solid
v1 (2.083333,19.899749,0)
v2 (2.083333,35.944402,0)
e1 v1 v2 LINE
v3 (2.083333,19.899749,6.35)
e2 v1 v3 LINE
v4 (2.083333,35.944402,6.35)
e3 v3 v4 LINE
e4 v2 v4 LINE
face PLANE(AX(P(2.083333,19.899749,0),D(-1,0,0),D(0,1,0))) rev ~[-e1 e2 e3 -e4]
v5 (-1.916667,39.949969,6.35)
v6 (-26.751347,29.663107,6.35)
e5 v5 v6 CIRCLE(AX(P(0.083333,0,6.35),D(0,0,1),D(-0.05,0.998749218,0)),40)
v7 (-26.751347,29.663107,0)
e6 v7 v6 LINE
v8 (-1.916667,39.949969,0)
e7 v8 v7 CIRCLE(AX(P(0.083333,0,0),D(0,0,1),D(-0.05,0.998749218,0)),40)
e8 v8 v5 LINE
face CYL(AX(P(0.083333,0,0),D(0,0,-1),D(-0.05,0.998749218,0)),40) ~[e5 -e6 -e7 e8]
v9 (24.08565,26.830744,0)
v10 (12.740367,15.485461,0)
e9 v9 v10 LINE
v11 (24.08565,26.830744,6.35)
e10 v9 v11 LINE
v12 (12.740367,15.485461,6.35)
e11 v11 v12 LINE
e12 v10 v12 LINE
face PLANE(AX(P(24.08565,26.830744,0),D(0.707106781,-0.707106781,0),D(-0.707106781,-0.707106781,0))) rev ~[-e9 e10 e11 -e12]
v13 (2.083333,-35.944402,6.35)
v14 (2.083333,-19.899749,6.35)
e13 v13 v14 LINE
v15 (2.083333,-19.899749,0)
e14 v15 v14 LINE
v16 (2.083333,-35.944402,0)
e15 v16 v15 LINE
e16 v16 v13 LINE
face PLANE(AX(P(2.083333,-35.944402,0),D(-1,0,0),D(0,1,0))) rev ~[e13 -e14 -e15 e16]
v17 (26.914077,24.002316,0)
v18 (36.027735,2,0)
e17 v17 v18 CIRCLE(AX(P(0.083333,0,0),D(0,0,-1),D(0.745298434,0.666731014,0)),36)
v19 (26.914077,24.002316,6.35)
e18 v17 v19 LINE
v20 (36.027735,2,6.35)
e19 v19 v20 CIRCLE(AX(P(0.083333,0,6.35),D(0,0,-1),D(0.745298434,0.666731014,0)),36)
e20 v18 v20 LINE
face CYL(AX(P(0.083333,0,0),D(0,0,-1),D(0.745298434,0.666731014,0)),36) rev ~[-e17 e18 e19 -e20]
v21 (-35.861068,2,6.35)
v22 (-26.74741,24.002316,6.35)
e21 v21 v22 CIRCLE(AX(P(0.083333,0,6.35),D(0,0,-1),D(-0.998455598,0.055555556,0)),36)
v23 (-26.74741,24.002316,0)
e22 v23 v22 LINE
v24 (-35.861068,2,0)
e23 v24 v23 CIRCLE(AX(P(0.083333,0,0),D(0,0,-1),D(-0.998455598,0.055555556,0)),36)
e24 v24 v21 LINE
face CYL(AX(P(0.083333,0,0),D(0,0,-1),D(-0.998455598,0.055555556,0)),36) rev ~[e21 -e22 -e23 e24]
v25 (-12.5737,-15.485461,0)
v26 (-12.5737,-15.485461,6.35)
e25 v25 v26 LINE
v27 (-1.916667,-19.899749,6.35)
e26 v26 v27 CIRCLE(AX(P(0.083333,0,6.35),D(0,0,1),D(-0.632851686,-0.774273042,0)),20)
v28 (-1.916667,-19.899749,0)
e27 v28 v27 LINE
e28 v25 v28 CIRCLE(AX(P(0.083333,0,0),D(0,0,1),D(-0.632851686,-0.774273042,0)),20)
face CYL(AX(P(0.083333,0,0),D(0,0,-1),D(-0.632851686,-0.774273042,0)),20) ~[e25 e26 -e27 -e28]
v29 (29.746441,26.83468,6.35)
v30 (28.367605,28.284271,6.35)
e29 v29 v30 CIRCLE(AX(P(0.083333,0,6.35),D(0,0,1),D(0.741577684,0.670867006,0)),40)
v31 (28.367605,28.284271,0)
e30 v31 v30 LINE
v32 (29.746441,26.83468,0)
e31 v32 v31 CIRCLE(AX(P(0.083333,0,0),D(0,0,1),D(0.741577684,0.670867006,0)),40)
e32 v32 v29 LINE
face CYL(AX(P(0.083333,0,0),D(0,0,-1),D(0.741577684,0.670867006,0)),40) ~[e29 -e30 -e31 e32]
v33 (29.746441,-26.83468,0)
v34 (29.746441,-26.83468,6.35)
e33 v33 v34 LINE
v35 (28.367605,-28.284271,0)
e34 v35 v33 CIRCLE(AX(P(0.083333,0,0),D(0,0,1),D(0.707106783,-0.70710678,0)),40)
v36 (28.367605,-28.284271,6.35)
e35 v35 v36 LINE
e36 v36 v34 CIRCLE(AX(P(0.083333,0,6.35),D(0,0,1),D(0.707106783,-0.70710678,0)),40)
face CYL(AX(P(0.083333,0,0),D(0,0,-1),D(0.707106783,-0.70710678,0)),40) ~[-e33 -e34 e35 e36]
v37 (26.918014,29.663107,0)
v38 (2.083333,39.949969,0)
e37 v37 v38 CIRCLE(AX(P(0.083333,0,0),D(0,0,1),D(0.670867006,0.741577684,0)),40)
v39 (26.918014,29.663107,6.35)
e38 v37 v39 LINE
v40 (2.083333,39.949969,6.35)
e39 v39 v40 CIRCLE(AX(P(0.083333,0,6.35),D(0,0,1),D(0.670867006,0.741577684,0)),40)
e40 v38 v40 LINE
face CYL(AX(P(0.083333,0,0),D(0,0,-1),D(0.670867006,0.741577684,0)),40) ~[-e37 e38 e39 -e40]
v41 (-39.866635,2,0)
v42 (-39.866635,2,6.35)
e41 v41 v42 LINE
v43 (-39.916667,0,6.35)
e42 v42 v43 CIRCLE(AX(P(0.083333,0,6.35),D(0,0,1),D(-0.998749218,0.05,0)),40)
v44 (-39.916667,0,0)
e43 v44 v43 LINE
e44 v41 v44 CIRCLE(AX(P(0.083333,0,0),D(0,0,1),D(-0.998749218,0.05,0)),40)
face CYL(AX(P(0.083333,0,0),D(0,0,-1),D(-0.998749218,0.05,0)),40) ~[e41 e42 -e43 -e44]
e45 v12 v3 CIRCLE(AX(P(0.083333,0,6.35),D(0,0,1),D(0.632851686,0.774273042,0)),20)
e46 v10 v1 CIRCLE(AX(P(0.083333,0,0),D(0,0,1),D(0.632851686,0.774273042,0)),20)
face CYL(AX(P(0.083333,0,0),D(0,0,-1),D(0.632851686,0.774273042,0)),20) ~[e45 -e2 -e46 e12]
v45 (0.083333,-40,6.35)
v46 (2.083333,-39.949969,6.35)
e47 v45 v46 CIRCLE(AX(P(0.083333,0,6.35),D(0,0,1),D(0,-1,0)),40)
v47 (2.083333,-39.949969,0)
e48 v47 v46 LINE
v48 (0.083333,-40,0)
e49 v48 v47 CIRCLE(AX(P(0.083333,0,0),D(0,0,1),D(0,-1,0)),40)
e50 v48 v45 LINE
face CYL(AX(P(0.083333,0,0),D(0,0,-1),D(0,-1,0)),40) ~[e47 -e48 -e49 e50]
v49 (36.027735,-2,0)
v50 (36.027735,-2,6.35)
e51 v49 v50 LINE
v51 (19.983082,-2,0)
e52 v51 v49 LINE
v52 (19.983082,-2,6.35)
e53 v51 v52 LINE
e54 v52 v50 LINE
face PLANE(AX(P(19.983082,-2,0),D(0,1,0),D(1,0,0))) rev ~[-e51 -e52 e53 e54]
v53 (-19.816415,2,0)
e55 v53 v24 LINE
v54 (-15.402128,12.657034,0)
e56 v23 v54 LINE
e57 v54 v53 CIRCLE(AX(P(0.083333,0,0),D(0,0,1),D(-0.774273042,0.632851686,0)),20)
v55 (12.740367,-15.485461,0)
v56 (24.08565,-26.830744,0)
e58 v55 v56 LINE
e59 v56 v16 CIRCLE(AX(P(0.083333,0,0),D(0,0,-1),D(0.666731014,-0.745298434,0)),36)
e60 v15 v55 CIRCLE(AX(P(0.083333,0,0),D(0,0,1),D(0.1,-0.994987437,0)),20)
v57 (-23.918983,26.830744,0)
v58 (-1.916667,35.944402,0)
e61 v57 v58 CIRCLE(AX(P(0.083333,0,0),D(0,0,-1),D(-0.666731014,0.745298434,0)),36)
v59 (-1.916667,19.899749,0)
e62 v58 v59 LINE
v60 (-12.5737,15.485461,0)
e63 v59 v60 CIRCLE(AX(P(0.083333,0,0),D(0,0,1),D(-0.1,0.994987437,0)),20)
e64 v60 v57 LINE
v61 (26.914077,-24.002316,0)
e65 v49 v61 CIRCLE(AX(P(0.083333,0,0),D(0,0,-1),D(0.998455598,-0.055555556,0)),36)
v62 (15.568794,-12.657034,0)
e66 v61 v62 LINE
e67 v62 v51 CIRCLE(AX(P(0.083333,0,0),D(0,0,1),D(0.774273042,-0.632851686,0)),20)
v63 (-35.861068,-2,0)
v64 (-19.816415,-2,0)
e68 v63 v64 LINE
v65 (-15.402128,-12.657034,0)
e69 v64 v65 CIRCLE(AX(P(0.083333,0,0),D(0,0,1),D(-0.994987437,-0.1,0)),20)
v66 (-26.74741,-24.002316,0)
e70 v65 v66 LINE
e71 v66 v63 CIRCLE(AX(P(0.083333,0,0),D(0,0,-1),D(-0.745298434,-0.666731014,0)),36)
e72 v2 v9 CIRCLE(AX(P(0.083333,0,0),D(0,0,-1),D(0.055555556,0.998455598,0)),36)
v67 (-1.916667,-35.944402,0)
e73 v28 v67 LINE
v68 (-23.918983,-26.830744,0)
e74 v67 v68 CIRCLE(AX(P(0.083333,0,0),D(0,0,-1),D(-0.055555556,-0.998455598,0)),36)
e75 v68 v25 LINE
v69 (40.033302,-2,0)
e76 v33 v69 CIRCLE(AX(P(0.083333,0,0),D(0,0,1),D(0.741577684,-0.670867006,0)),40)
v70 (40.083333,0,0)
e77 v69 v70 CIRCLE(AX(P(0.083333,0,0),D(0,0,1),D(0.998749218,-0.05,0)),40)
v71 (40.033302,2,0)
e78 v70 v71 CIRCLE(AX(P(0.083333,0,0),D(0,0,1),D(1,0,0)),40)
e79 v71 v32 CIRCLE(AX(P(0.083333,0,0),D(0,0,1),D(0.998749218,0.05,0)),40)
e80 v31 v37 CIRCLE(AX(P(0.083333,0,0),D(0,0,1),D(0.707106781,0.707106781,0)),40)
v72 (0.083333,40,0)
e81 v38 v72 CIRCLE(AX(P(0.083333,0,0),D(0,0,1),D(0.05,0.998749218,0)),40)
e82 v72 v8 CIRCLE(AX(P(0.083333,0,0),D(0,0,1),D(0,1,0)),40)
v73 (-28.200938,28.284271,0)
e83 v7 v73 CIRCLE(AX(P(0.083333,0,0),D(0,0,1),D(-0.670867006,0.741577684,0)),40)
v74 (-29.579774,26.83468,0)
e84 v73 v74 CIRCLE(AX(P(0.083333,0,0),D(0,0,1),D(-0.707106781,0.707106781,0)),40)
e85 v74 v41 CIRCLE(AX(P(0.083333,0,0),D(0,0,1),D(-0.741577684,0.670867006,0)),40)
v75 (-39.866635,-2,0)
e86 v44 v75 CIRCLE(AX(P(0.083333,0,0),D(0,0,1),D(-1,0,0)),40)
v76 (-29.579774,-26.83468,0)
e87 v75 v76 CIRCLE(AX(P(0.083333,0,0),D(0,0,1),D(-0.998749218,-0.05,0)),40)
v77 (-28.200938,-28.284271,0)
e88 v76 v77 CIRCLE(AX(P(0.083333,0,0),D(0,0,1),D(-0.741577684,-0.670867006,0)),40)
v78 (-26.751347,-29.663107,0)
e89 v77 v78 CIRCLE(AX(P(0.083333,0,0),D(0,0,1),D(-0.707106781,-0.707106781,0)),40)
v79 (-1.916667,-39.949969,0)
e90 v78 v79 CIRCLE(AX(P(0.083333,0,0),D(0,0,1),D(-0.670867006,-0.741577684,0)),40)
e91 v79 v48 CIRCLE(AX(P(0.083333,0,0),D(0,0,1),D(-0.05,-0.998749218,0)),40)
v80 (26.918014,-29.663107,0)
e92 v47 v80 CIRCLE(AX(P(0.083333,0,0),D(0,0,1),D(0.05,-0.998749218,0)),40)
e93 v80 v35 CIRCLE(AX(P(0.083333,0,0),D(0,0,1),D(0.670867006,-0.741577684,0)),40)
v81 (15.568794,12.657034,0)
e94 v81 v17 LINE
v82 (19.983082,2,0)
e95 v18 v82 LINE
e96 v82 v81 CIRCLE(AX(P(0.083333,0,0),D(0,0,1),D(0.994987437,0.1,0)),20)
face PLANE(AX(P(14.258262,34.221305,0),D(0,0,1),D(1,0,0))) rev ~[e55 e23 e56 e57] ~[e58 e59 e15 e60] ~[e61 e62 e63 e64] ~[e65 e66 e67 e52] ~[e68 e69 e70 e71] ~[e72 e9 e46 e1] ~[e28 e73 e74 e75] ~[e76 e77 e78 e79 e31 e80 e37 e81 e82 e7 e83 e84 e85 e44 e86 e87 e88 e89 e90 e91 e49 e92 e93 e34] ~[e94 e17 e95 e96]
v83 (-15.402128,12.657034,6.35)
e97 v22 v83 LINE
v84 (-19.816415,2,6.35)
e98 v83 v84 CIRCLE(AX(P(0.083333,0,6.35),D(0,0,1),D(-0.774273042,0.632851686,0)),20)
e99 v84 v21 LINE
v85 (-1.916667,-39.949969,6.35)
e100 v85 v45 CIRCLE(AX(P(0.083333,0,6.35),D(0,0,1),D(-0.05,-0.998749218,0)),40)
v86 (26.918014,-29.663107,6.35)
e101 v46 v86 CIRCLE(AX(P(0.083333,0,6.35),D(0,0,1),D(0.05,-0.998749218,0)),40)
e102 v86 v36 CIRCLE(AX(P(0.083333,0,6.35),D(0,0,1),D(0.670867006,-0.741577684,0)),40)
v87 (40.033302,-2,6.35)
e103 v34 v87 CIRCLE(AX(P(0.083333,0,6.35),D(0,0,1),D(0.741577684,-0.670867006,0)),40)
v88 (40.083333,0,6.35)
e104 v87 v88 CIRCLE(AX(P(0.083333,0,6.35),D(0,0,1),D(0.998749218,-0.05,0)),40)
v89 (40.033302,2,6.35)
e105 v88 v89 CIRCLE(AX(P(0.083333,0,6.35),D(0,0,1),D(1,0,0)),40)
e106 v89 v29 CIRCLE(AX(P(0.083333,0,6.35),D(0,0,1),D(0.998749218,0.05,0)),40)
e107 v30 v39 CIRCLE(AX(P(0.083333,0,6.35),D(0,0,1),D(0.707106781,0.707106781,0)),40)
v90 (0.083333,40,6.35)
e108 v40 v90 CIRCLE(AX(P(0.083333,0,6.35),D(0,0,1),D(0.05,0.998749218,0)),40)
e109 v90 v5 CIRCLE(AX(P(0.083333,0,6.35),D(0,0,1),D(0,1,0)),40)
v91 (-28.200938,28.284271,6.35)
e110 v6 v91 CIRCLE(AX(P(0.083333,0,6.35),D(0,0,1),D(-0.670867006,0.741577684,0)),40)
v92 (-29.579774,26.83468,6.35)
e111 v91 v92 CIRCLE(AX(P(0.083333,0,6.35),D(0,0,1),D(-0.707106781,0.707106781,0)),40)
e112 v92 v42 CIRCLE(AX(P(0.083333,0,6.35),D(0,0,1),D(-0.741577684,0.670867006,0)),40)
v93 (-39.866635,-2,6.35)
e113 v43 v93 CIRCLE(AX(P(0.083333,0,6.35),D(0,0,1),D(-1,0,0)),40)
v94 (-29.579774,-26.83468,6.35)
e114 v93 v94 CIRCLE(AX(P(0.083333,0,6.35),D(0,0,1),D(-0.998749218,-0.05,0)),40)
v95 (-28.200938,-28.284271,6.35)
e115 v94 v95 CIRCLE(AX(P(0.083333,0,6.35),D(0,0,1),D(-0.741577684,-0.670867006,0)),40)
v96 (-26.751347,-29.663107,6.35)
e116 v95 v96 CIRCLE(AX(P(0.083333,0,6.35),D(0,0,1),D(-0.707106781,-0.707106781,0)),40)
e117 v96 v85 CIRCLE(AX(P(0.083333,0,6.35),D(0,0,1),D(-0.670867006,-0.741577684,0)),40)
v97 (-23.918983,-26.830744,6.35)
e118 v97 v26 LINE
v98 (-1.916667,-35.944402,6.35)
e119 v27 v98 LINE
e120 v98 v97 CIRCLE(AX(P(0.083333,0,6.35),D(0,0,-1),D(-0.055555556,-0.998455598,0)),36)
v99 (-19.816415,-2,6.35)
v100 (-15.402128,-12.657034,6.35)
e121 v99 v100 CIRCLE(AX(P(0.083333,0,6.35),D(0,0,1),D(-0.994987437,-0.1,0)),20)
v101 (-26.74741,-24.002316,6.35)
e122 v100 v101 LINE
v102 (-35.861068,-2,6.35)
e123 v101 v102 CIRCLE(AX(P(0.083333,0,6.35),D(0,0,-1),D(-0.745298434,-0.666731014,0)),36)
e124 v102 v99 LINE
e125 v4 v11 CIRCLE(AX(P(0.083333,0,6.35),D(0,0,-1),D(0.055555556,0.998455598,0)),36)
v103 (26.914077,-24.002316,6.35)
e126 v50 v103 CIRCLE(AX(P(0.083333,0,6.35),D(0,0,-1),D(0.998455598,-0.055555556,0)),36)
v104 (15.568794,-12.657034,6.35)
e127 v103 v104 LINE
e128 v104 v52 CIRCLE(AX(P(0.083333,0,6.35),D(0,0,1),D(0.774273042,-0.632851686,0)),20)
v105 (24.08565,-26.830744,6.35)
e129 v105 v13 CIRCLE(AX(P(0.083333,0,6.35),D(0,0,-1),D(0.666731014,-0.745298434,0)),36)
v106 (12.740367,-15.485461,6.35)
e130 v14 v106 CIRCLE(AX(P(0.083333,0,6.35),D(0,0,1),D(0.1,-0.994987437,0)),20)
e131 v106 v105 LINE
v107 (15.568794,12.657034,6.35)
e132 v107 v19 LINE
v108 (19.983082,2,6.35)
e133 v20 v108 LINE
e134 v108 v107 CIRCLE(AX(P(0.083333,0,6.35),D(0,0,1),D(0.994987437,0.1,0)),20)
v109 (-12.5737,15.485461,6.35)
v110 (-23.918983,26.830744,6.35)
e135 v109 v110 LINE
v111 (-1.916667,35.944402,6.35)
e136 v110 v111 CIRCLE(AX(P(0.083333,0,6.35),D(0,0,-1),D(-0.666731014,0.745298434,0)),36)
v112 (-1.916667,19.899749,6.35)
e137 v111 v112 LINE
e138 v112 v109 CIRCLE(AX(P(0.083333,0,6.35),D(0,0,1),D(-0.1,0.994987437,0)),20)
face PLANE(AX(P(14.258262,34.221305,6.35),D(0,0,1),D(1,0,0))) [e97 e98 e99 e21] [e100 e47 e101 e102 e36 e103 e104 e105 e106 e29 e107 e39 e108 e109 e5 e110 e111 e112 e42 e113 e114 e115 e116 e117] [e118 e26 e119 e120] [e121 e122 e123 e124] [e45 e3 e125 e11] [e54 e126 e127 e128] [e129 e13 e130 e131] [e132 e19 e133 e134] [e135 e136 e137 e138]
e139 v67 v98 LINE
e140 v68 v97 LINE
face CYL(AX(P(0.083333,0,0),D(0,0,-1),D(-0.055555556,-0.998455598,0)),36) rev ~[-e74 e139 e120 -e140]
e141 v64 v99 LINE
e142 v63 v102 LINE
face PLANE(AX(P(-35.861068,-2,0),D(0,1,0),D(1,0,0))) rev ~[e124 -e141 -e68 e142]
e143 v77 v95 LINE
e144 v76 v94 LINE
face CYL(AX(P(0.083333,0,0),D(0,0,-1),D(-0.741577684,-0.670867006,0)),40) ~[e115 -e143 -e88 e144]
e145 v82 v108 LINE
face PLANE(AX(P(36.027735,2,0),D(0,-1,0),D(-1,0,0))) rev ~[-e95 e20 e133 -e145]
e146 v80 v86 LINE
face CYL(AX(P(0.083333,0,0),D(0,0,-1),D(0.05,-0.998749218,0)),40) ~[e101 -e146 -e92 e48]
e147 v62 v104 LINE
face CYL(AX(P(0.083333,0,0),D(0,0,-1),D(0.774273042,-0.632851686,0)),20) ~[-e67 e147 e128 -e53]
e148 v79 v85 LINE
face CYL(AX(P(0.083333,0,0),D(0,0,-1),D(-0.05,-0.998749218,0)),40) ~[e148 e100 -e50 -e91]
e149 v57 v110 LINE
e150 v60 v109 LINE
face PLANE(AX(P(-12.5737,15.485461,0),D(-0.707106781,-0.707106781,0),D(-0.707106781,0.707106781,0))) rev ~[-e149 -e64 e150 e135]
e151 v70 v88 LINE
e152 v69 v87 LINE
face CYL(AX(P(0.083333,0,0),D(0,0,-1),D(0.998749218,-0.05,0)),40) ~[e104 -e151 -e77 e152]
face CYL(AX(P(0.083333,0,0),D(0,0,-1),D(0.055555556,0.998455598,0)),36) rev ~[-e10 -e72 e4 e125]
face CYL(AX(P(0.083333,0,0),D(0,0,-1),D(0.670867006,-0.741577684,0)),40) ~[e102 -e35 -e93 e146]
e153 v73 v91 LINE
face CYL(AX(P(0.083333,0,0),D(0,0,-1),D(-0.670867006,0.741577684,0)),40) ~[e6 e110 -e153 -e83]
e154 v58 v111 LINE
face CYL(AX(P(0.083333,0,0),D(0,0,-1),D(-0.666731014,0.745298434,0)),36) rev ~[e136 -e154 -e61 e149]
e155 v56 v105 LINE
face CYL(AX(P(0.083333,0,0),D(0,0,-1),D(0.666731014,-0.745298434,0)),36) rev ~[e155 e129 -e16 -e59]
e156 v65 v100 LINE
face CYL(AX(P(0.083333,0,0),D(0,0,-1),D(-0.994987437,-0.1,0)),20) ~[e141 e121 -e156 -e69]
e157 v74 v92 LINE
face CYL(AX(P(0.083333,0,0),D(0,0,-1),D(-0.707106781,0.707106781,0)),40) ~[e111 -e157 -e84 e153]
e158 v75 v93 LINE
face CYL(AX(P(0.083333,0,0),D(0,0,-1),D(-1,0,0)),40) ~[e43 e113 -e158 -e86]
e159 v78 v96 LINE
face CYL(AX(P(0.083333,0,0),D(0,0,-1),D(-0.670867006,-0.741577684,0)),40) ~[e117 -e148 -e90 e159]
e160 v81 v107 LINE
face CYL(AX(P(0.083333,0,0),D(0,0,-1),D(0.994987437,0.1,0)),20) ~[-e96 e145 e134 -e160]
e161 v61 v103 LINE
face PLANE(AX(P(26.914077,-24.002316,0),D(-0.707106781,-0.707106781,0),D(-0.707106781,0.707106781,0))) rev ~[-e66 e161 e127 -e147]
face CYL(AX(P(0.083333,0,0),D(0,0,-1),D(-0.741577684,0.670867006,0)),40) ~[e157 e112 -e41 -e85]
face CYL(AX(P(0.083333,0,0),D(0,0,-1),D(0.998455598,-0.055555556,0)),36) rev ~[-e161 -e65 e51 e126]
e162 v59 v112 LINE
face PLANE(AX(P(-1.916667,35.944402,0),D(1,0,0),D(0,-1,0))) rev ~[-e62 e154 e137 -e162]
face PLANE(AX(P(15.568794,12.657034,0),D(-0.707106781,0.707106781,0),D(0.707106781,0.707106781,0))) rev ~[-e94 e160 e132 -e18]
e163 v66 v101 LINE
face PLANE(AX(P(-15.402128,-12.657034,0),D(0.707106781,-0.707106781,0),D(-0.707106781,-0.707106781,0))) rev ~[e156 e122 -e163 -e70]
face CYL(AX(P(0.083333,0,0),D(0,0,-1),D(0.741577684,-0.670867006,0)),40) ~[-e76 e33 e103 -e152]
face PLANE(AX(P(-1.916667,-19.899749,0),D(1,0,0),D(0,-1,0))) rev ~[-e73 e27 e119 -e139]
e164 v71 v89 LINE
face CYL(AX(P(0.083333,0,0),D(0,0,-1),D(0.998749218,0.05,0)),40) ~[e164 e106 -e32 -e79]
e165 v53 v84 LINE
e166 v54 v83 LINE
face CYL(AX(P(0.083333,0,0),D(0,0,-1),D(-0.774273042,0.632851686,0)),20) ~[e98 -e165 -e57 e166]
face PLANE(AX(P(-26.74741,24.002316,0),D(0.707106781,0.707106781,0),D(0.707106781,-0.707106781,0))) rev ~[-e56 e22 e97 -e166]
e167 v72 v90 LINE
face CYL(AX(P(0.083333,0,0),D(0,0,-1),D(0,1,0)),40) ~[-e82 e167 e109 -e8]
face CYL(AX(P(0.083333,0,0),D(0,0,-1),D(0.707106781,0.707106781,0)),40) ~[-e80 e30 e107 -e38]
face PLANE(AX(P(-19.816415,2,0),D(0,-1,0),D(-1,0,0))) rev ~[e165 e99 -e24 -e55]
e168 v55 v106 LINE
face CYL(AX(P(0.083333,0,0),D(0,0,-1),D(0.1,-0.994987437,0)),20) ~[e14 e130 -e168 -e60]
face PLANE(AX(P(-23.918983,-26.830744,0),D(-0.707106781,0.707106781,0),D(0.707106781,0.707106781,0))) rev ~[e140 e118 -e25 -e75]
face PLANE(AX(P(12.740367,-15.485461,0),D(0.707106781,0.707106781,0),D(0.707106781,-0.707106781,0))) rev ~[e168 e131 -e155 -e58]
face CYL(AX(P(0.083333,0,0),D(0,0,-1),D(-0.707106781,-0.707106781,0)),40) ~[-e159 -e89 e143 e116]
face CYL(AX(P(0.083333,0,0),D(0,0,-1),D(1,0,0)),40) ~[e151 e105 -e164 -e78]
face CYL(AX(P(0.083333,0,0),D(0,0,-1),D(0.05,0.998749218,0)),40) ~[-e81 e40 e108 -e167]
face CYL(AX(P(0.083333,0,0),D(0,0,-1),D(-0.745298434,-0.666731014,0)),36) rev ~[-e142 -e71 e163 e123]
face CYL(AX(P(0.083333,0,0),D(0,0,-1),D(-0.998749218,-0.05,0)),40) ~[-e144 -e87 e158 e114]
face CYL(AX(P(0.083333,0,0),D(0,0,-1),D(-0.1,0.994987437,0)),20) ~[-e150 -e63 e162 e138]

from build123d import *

# Parameters (mm, degrees)
F1_DEPTH = 6.35


with BuildPart() as f1:
    # F0 (on Top) → F1 (new body)
    with BuildSketch(Plane.XY):
        with BuildLine():
            Line((24.0856498252, 26.8307436167), (26.9180135546, 29.663107346))
            ThreePointArc((26.9180135546, 29.663107346), (15.3906706279, 36.9551813005), (2.0833333333, 39.9499687109))
            Line((2.0833333333, 39.9499687109), (2.0833333333, 35.9444015112))
            ThreePointArc((2.0833333333, 35.9444015112), (13.8599368985, 33.2596631704), (24.0856498252, 26.8307436167))
        make_face()
        with BuildLine():
            Line((2.0833333333, 35.9444015112), (2.0833333333, 39.9499687109))
            ThreePointArc((2.0833333333, 39.9499687109), (1.0836461756, 39.9874902215), (0.0833333333, 40))
            ThreePointArc((0.0833333333, 40), (-0.916979509, 39.9874902215), (-1.9166666667, 39.9499687109))
            Line((-1.9166666667, 39.9499687109), (-1.9166666667, 35.9444015112))
            ThreePointArc((-1.9166666667, 35.9444015112), (0.0833333333, 36), (2.0833333333, 35.9444015112))
        make_face()
        with BuildLine():
            ThreePointArc((-23.9189831586, 26.8307436167), (-13.6932702318, 33.2596631704), (-1.9166666667, 35.9444015112))
            Line((-1.9166666667, 35.9444015112), (-1.9166666667, 39.9499687109))
            ThreePointArc((-1.9166666667, 39.9499687109), (-15.2240039613, 36.9551813005), (-26.7513468879, 29.663107346))
            Line((-26.7513468879, 29.663107346), (-23.9189831586, 26.8307436167))
        make_face()
        with BuildLine():
            ThreePointArc((-26.7474102833, 24.0023164919), (-25.3725107894, 25.4558441227), (-23.9189831586, 26.8307436167))
            Line((-23.9189831586, 26.8307436167), (-26.7513468879, 29.663107346))
            ThreePointArc((-26.7513468879, 29.663107346), (-27.4847641715, 28.9827534917), (-28.2009379154, 28.2842712462))
            ThreePointArc((-28.2009379154, 28.2842712462), (-28.8994201597, 27.5680975035), (-29.5797740127, 26.8346802213))
            Line((-29.5797740127, 26.8346802213), (-26.7474102833, 24.0023164919))
        make_face()
        with BuildLine():
            ThreePointArc((-35.8610681779, 2), (-33.1763298371, 13.7766035651), (-26.7474102833, 24.0023164919))
            Line((-26.7474102833, 24.0023164919), (-29.5797740127, 26.8346802213))
            ThreePointArc((-29.5797740127, 26.8346802213), (-36.8718479671, 15.3073372946), (-39.8666353775, 2))
            Line((-39.8666353775, 2), (-35.8610681779, 2))
        make_face()
        with BuildLine():
            ThreePointArc((-35.8610681779, -2), (-35.9166666667, 0), (-35.8610681779, 2))
            Line((-35.8610681779, 2), (-39.8666353775, 2))
            ThreePointArc((-39.8666353775, 2), (-39.9041568884, 1.000312836), (-39.9166666667, -1.26e-08))
            ThreePointArc((-39.9166666667, -1.26e-08), (-39.904156888, -1.0003128486), (-39.8666353775, -2))
            Line((-39.8666353775, -2), (-35.8610681779, -2))
        make_face()
        with BuildLine():
            Line((-29.5797740127, -26.8346802213), (-26.7474102833, -24.0023164919))
            ThreePointArc((-26.7474102833, -24.0023164919), (-33.1763298371, -13.7766035651), (-35.8610681779, -2))
            Line((-35.8610681779, -2), (-39.8666353775, -2))
            ThreePointArc((-39.8666353775, -2), (-36.8718479671, -15.3073372946), (-29.5797740127, -26.8346802213))
        make_face()
        with BuildLine():
            Line((-26.7513468879, -29.663107346), (-23.9189831586, -26.8307436167))
            ThreePointArc((-23.9189831586, -26.8307436167), (-25.3725107894, -25.4558441227), (-26.7474102833, -24.0023164919))
            Line((-26.7474102833, -24.0023164919), (-29.5797740127, -26.8346802213))
            ThreePointArc((-29.5797740127, -26.8346802213), (-28.899420159, -27.5680975042), (-28.2009379141, -28.2842712475))
            ThreePointArc((-28.2009379141, -28.2842712475), (-27.4847641708, -28.9827534924), (-26.7513468879, -29.663107346))
        make_face()
        with BuildLine():
            Line((-1.9166666667, -39.9499687109), (-1.9166666667, -35.9444015112))
            ThreePointArc((-1.9166666667, -35.9444015112), (-13.6932702318, -33.2596631704), (-23.9189831586, -26.8307436167))
            Line((-23.9189831586, -26.8307436167), (-26.7513468879, -29.663107346))
            ThreePointArc((-26.7513468879, -29.663107346), (-15.2240039613, -36.9551813005), (-1.9166666667, -39.9499687109))
        make_face()
        with BuildLine():
            ThreePointArc((0.0833333333, -40), (1.0836461756, -39.9874902215), (2.0833333333, -39.9499687109))
            Line((2.0833333333, -39.9499687109), (2.0833333333, -35.9444015112))
            ThreePointArc((2.0833333333, -35.9444015112), (0.0833333333, -36), (-1.9166666667, -35.9444015112))
            Line((-1.9166666667, -35.9444015112), (-1.9166666667, -39.9499687109))
            ThreePointArc((-1.9166666667, -39.9499687109), (-0.916979509, -39.9874902215), (0.0833333333, -40))
        make_face()
        with BuildLine():
            ThreePointArc((2.0833333333, -39.9499687109), (15.3906706279, -36.9551813005), (26.9180135546, -29.663107346))
            Line((26.9180135546, -29.663107346), (24.0856498252, -26.8307436167))
            ThreePointArc((24.0856498252, -26.8307436167), (13.8599368985, -33.2596631704), (2.0833333333, -35.9444015112))
            Line((2.0833333333, -35.9444015112), (2.0833333333, -39.9499687109))
        make_face()
        with BuildLine():
            ThreePointArc((28.3676046423, -28.2842711859), (29.0660868557, -27.5680974727), (29.7464406794, -26.8346802213))
            Line((29.7464406794, -26.8346802213), (26.91407695, -24.0023164919))
            ThreePointArc((26.91407695, -24.0023164919), (25.539177456, -25.4558441227), (24.0856498252, -26.8307436167))
            Line((24.0856498252, -26.8307436167), (26.9180135546, -29.663107346))
            ThreePointArc((26.9180135546, -29.663107346), (27.651430869, -28.9827534624), (28.3676046423, -28.2842711859))
        make_face()
        with BuildLine():
            ThreePointArc((29.7464406794, -26.8346802213), (37.0385146338, -15.3073372946), (40.0333020442, -2))
            Line((40.0333020442, -2), (36.0277348446, -2))
            ThreePointArc((36.0277348446, -2), (33.3429965037, -13.7766035651), (26.91407695, -24.0023164919))
            Line((26.91407695, -24.0023164919), (29.7464406794, -26.8346802213))
        make_face()
        with BuildLine():
            ThreePointArc((40.0333020442, -2), (40.0708235549, -1.0003128423), (40.0833333333, 0))
            ThreePointArc((40.0833333333, 0), (40.0708235549, 1.0003128423), (40.0333020442, 2))
            Line((40.0333020442, 2), (36.0277348446, 2))
            ThreePointArc((36.0277348446, 2), (36.0694310268, 1.0003863244), (36.0833333333, 0))
            ThreePointArc((36.0833333333, 0), (36.0694310268, -1.0003863244), (36.0277348446, -2))
            Line((36.0277348446, -2), (40.0333020442, -2))
        make_face()
        with BuildLine():
            Line((36.0277348446, 2), (40.0333020442, 2))
            ThreePointArc((40.0333020442, 2), (37.0385146338, 15.3073372946), (29.7464406794, 26.8346802213))
            Line((29.7464406794, 26.8346802213), (26.91407695, 24.0023164919))
            ThreePointArc((26.91407695, 24.0023164919), (33.3429965037, 13.7766035651), (36.0277348446, 2))
        make_face()
        with BuildLine():
            Line((26.91407695, 24.0023164919), (29.7464406794, 26.8346802213))
            ThreePointArc((29.7464406794, 26.8346802213), (29.0660868257, 27.5680975042), (28.3676045808, 28.2842712475))
            ThreePointArc((28.3676045808, 28.2842712475), (27.6514308375, 28.9827534924), (26.9180135546, 29.663107346))
            Line((26.9180135546, 29.663107346), (24.0856498252, 26.8307436167))
            ThreePointArc((24.0856498252, 26.8307436167), (25.539177456, 25.4558441227), (26.91407695, 24.0023164919))
        make_face()
        with BuildLine():
            Line((15.5687941752, 12.6570337171), (26.91407695, 24.0023164919))
            ThreePointArc((26.91407695, 24.0023164919), (25.539177456, 25.4558441227), (24.0856498252, 26.8307436167))
            Line((24.0856498252, 26.8307436167), (12.7403670504, 15.4854608418))
            ThreePointArc((12.7403670504, 15.4854608418), (14.2254689571, 14.1421356237), (15.5687941752, 12.6570337171))
        make_face()
        with BuildLine():
            ThreePointArc((36.0833333333, 0), (36.0694310268, 1.0003863244), (36.0277348446, 2))
            Line((36.0277348446, 2), (19.9830820755, 2))
            ThreePointArc((19.9830820755, 2), (20.0582547955, 1.0012555012), (20.0833333333, 0))
            ThreePointArc((20.0833333333, 0), (20.0582547955, -1.0012555012), (19.9830820755, -2))
            Line((19.9830820755, -2), (36.0277348446, -2))
            ThreePointArc((36.0277348446, -2), (36.0694310268, -1.0003863244), (36.0833333333, 0))
        make_face()
        with BuildLine():
            ThreePointArc((24.0856498252, -26.8307436167), (25.539177456, -25.4558441227), (26.91407695, -24.0023164919))
            Line((26.91407695, -24.0023164919), (15.5687941752, -12.6570337171))
            ThreePointArc((15.5687941752, -12.6570337171), (14.2254689571, -14.1421356237), (12.7403670504, -15.4854608418))
            Line((12.7403670504, -15.4854608418), (24.0856498252, -26.8307436167))
        make_face()
        with BuildLine():
            ThreePointArc((-1.9166666667, -35.9444015112), (0.0833333333, -36), (2.0833333333, -35.9444015112))
            Line((2.0833333333, -35.9444015112), (2.0833333333, -19.8997487421))
            ThreePointArc((2.0833333333, -19.8997487421), (0.0833333333, -20), (-1.9166666667, -19.8997487421))
            Line((-1.9166666667, -19.8997487421), (-1.9166666667, -35.9444015112))
        make_face()
        with BuildLine():
            ThreePointArc((-26.7474102833, -24.0023164919), (-25.3725107894, -25.4558441227), (-23.9189831586, -26.8307436167))
            Line((-23.9189831586, -26.8307436167), (-12.5737003838, -15.4854608418))
            ThreePointArc((-12.5737003838, -15.4854608418), (-14.0588022904, -14.1421356237), (-15.4021275085, -12.6570337171))
            Line((-15.4021275085, -12.6570337171), (-26.7474102833, -24.0023164919))
        make_face()
        with BuildLine():
            Line((-19.8164154088, 2), (-35.8610681779, 2))
            ThreePointArc((-35.8610681779, 2), (-35.9166666667, 0), (-35.8610681779, -2))
            Line((-35.8610681779, -2), (-19.8164154088, -2))
            ThreePointArc((-19.8164154088, -2), (-19.9166666667, 0), (-19.8164154088, 2))
        make_face()
        with BuildLine():
            Line((-12.5737003838, 15.4854608418), (-23.9189831586, 26.8307436167))
            ThreePointArc((-23.9189831586, 26.8307436167), (-25.3725107894, 25.4558441227), (-26.7474102833, 24.0023164919))
            Line((-26.7474102833, 24.0023164919), (-15.4021275085, 12.6570337171))
            ThreePointArc((-15.4021275085, 12.6570337171), (-14.0588022904, 14.1421356237), (-12.5737003838, 15.4854608418))
        make_face()
        with BuildLine():
            Line((2.0833333333, 19.8997487421), (2.0833333333, 35.9444015112))
            ThreePointArc((2.0833333333, 35.9444015112), (0.0833333333, 36), (-1.9166666667, 35.9444015112))
            Line((-1.9166666667, 35.9444015112), (-1.9166666667, 19.8997487421))
            ThreePointArc((-1.9166666667, 19.8997487421), (0.0833333333, 20), (2.0833333333, 19.8997487421))
        make_face()
        with BuildLine():
            Line((2.0833333333, 4.8284271247), (2.0833333333, 19.8997487421))
            ThreePointArc((2.0833333333, 19.8997487421), (0.0833333333, 20), (-1.9166666667, 19.8997487421))
            Line((-1.9166666667, 19.8997487421), (-1.9166666667, 4.8284271247))
            Line((-1.9166666667, 4.8284271247), (0.0833333333, 2.8284271247))
            Line((0.0833333333, 2.8284271247), (2.0833333333, 4.8284271247))
        make_face()
        with BuildLine():
            Line((2.0833333333, 4.8284271247), (12.7403670504, 15.4854608418))
            ThreePointArc((12.7403670504, 15.4854608418), (7.7370019806, 18.4775906502), (2.0833333333, 19.8997487421))
            Line((2.0833333333, 19.8997487421), (2.0833333333, 4.8284271247))
        make_face()
        with BuildLine():
            Line((4.9117604581, 2), (15.5687941752, 12.6570337171))
            ThreePointArc((15.5687941752, 12.6570337171), (14.2254689571, 14.1421356237), (12.7403670504, 15.4854608418))
            Line((12.7403670504, 15.4854608418), (2.0833333333, 4.8284271247))
            Line((2.0833333333, 4.8284271247), (2.0833333333, 2))
            Line((2.0833333333, 2), (4.9117604581, 2))
        make_face()
        with BuildLine():
            ThreePointArc((20.0833333333, 0), (20.0582547955, 1.0012555012), (19.9830820755, 2))
            Line((19.9830820755, 2), (4.9117604581, 2))
            Line((4.9117604581, 2), (2.9117604581, 0))
            Line((2.9117604581, 0), (4.9117604581, -2))
            Line((4.9117604581, -2), (19.9830820755, -2))
            ThreePointArc((19.9830820755, -2), (20.0582547955, -1.0012555012), (20.0833333333, 0))
        make_face()
        with BuildLine():
            Line((4.9117604581, 2), (19.9830820755, 2))
            ThreePointArc((19.9830820755, 2), (18.5609239836, 7.6536686473), (15.5687941752, 12.6570337171))
            Line((15.5687941752, 12.6570337171), (4.9117604581, 2))
        make_face()
        with BuildLine():
            ThreePointArc((15.5687941752, -12.6570337171), (18.5609239836, -7.6536686473), (19.9830820755, -2))
            Line((19.9830820755, -2), (4.9117604581, -2))
            Line((4.9117604581, -2), (15.5687941752, -12.6570337171))
        make_face()
        with BuildLine():
            ThreePointArc((12.7403670504, -15.4854608418), (14.2254689571, -14.1421356237), (15.5687941752, -12.6570337171))
            Line((15.5687941752, -12.6570337171), (4.9117604581, -2))
            Line((4.9117604581, -2), (2.0833333333, -2))
            Line((2.0833333333, -2), (2.0833333333, -4.8284271247))
            Line((2.0833333333, -4.8284271247), (12.7403670504, -15.4854608418))
        make_face()
        with BuildLine():
            ThreePointArc((2.0833333333, -19.8997487421), (7.7370019806, -18.4775906502), (12.7403670504, -15.4854608418))
            Line((12.7403670504, -15.4854608418), (2.0833333333, -4.8284271247))
            Line((2.0833333333, -4.8284271247), (2.0833333333, -19.8997487421))
        make_face()
        with BuildLine():
            ThreePointArc((-1.9166666667, -19.8997487421), (0.0833333333, -20), (2.0833333333, -19.8997487421))
            Line((2.0833333333, -19.8997487421), (2.0833333333, -4.8284271247))
            Line((2.0833333333, -4.8284271247), (0.0833333333, -2.8284271247))
            Line((0.0833333333, -2.8284271247), (-1.9166666667, -4.8284271247))
            Line((-1.9166666667, -4.8284271247), (-1.9166666667, -19.8997487421))
        make_face()
        with BuildLine():
            ThreePointArc((-12.5737003838, -15.4854608418), (-7.570335314, -18.4775906502), (-1.9166666667, -19.8997487421))
            Line((-1.9166666667, -19.8997487421), (-1.9166666667, -4.8284271247))
            Line((-1.9166666667, -4.8284271247), (-12.5737003838, -15.4854608418))
        make_face()
        with BuildLine():
            ThreePointArc((-15.4021275085, -12.6570337171), (-14.0588022904, -14.1421356237), (-12.5737003838, -15.4854608418))
            Line((-12.5737003838, -15.4854608418), (-1.9166666667, -4.8284271247))
            Line((-1.9166666667, -4.8284271247), (-1.9166666667, -2))
            Line((-1.9166666667, -2), (-4.7450937914, -2))
            Line((-4.7450937914, -2), (-15.4021275085, -12.6570337171))
        make_face()
        with BuildLine():
            ThreePointArc((-19.8164154088, -2), (-18.3942573169, -7.6536686473), (-15.4021275085, -12.6570337171))
            Line((-15.4021275085, -12.6570337171), (-4.7450937914, -2))
            Line((-4.7450937914, -2), (-19.8164154088, -2))
        make_face()
        with BuildLine():
            Line((-2.7450937914, 0), (-4.7450937914, 2))
            Line((-4.7450937914, 2), (-19.8164154088, 2))
            ThreePointArc((-19.8164154088, 2), (-19.9166666667, 0), (-19.8164154088, -2))
            Line((-19.8164154088, -2), (-4.7450937914, -2))
            Line((-4.7450937914, -2), (-2.7450937914, 0))
        make_face()
        with BuildLine():
            Line((-4.7450937914, 2), (-15.4021275085, 12.6570337171))
            ThreePointArc((-15.4021275085, 12.6570337171), (-18.3942573169, 7.6536686473), (-19.8164154088, 2))
            Line((-19.8164154088, 2), (-4.7450937914, 2))
        make_face()
        with BuildLine():
            Line((-1.9166666667, 4.8284271247), (-12.5737003838, 15.4854608418))
            ThreePointArc((-12.5737003838, 15.4854608418), (-14.0588022904, 14.1421356237), (-15.4021275085, 12.6570337171))
            Line((-15.4021275085, 12.6570337171), (-4.7450937914, 2))
            Line((-4.7450937914, 2), (-1.9166666667, 2))
            Line((-1.9166666667, 2), (-1.9166666667, 4.8284271247))
        make_face()
        with BuildLine():
            Line((-1.9166666667, 4.8284271247), (-1.9166666667, 19.8997487421))
            ThreePointArc((-1.9166666667, 19.8997487421), (-7.570335314, 18.4775906502), (-12.5737003838, 15.4854608418))
            Line((-12.5737003838, 15.4854608418), (-1.9166666667, 4.8284271247))
        make_face()
        Polygon((2.9117604581, 0), (4.9117604581, 2), (2.0833333333, 2), (2.0833333333, 0.8284271247), align=None)
        Polygon((2.0833333333, -2), (4.9117604581, -2), (2.9117604581, 0), (2.0833333333, -0.8284271247), align=None)
        Polygon((2.0833333333, -4.8284271247), (2.0833333333, -2), (0.9117604581, -2), (0.0833333333, -2.8284271247), align=None)
        Polygon((-1.9166666667, -4.8284271247), (0.0833333333, -2.8284271247), (-0.7450937914, -2), (-1.9166666667, -2), align=None)
        Polygon((-1.9166666667, 0.8284271247), (-1.9166666667, 2), (-4.7450937914, 2), (-2.7450937914, 0), align=None)
        Polygon((0.9117604581, 2), (2.0833333333, 2), (2.0833333333, 4.8284271247), (0.0833333333, 2.8284271247), align=None)
        Polygon((2.0833333333, -0.8284271247), (2.9117604581, 0), (2.0833333333, 0.8284271247), align=None)
        Polygon((0.9117604581, -2), (2.0833333333, -2), (2.0833333333, -0.8284271247), align=None)
        Polygon((0.0833333333, -2.8284271247), (0.9117604581, -2), (-0.7450937914, -2), align=None)
        Polygon((-1.9166666667, -0.8284271247), (-1.9166666667, 0.8284271247), (-2.7450937914, 0), align=None)
        Polygon((-1.9166666667, 0.8284271247), (-0.7450937914, 2), (-1.9166666667, 2), align=None)
        Polygon((-0.7450937914, 2), (0.0833333333, 2.8284271247), (-1.9166666667, 4.8284271247), (-1.9166666667, 2), align=None)
        Polygon((-0.7450937914, 2), (0.9117604581, 2), (0.0833333333, 2.8284271247), align=None)
        Polygon((-4.7450937914, -2), (-1.9166666667, -2), (-1.9166666667, -0.8284271247), (-2.7450937914, 0), align=None)
        Polygon((2.0833333333, -0.8284271247), (2.0833333333, 0.8284271247), (0.9117604581, 2), (-0.7450937914, 2), (-1.9166666667, 0.8284271247), (-1.9166666667, -0.8284271247), (-0.7450937914, -2), (0.9117604581, -2), align=None)
        Polygon((-1.9166666667, -2), (-0.7450937914, -2), (-1.9166666667, -0.8284271247), align=None)
        Polygon((2.0833333333, 0.8284271247), (2.0833333333, 2), (0.9117604581, 2), align=None)
    extrude(amount=F1_DEPTH)


solid = f1.part
